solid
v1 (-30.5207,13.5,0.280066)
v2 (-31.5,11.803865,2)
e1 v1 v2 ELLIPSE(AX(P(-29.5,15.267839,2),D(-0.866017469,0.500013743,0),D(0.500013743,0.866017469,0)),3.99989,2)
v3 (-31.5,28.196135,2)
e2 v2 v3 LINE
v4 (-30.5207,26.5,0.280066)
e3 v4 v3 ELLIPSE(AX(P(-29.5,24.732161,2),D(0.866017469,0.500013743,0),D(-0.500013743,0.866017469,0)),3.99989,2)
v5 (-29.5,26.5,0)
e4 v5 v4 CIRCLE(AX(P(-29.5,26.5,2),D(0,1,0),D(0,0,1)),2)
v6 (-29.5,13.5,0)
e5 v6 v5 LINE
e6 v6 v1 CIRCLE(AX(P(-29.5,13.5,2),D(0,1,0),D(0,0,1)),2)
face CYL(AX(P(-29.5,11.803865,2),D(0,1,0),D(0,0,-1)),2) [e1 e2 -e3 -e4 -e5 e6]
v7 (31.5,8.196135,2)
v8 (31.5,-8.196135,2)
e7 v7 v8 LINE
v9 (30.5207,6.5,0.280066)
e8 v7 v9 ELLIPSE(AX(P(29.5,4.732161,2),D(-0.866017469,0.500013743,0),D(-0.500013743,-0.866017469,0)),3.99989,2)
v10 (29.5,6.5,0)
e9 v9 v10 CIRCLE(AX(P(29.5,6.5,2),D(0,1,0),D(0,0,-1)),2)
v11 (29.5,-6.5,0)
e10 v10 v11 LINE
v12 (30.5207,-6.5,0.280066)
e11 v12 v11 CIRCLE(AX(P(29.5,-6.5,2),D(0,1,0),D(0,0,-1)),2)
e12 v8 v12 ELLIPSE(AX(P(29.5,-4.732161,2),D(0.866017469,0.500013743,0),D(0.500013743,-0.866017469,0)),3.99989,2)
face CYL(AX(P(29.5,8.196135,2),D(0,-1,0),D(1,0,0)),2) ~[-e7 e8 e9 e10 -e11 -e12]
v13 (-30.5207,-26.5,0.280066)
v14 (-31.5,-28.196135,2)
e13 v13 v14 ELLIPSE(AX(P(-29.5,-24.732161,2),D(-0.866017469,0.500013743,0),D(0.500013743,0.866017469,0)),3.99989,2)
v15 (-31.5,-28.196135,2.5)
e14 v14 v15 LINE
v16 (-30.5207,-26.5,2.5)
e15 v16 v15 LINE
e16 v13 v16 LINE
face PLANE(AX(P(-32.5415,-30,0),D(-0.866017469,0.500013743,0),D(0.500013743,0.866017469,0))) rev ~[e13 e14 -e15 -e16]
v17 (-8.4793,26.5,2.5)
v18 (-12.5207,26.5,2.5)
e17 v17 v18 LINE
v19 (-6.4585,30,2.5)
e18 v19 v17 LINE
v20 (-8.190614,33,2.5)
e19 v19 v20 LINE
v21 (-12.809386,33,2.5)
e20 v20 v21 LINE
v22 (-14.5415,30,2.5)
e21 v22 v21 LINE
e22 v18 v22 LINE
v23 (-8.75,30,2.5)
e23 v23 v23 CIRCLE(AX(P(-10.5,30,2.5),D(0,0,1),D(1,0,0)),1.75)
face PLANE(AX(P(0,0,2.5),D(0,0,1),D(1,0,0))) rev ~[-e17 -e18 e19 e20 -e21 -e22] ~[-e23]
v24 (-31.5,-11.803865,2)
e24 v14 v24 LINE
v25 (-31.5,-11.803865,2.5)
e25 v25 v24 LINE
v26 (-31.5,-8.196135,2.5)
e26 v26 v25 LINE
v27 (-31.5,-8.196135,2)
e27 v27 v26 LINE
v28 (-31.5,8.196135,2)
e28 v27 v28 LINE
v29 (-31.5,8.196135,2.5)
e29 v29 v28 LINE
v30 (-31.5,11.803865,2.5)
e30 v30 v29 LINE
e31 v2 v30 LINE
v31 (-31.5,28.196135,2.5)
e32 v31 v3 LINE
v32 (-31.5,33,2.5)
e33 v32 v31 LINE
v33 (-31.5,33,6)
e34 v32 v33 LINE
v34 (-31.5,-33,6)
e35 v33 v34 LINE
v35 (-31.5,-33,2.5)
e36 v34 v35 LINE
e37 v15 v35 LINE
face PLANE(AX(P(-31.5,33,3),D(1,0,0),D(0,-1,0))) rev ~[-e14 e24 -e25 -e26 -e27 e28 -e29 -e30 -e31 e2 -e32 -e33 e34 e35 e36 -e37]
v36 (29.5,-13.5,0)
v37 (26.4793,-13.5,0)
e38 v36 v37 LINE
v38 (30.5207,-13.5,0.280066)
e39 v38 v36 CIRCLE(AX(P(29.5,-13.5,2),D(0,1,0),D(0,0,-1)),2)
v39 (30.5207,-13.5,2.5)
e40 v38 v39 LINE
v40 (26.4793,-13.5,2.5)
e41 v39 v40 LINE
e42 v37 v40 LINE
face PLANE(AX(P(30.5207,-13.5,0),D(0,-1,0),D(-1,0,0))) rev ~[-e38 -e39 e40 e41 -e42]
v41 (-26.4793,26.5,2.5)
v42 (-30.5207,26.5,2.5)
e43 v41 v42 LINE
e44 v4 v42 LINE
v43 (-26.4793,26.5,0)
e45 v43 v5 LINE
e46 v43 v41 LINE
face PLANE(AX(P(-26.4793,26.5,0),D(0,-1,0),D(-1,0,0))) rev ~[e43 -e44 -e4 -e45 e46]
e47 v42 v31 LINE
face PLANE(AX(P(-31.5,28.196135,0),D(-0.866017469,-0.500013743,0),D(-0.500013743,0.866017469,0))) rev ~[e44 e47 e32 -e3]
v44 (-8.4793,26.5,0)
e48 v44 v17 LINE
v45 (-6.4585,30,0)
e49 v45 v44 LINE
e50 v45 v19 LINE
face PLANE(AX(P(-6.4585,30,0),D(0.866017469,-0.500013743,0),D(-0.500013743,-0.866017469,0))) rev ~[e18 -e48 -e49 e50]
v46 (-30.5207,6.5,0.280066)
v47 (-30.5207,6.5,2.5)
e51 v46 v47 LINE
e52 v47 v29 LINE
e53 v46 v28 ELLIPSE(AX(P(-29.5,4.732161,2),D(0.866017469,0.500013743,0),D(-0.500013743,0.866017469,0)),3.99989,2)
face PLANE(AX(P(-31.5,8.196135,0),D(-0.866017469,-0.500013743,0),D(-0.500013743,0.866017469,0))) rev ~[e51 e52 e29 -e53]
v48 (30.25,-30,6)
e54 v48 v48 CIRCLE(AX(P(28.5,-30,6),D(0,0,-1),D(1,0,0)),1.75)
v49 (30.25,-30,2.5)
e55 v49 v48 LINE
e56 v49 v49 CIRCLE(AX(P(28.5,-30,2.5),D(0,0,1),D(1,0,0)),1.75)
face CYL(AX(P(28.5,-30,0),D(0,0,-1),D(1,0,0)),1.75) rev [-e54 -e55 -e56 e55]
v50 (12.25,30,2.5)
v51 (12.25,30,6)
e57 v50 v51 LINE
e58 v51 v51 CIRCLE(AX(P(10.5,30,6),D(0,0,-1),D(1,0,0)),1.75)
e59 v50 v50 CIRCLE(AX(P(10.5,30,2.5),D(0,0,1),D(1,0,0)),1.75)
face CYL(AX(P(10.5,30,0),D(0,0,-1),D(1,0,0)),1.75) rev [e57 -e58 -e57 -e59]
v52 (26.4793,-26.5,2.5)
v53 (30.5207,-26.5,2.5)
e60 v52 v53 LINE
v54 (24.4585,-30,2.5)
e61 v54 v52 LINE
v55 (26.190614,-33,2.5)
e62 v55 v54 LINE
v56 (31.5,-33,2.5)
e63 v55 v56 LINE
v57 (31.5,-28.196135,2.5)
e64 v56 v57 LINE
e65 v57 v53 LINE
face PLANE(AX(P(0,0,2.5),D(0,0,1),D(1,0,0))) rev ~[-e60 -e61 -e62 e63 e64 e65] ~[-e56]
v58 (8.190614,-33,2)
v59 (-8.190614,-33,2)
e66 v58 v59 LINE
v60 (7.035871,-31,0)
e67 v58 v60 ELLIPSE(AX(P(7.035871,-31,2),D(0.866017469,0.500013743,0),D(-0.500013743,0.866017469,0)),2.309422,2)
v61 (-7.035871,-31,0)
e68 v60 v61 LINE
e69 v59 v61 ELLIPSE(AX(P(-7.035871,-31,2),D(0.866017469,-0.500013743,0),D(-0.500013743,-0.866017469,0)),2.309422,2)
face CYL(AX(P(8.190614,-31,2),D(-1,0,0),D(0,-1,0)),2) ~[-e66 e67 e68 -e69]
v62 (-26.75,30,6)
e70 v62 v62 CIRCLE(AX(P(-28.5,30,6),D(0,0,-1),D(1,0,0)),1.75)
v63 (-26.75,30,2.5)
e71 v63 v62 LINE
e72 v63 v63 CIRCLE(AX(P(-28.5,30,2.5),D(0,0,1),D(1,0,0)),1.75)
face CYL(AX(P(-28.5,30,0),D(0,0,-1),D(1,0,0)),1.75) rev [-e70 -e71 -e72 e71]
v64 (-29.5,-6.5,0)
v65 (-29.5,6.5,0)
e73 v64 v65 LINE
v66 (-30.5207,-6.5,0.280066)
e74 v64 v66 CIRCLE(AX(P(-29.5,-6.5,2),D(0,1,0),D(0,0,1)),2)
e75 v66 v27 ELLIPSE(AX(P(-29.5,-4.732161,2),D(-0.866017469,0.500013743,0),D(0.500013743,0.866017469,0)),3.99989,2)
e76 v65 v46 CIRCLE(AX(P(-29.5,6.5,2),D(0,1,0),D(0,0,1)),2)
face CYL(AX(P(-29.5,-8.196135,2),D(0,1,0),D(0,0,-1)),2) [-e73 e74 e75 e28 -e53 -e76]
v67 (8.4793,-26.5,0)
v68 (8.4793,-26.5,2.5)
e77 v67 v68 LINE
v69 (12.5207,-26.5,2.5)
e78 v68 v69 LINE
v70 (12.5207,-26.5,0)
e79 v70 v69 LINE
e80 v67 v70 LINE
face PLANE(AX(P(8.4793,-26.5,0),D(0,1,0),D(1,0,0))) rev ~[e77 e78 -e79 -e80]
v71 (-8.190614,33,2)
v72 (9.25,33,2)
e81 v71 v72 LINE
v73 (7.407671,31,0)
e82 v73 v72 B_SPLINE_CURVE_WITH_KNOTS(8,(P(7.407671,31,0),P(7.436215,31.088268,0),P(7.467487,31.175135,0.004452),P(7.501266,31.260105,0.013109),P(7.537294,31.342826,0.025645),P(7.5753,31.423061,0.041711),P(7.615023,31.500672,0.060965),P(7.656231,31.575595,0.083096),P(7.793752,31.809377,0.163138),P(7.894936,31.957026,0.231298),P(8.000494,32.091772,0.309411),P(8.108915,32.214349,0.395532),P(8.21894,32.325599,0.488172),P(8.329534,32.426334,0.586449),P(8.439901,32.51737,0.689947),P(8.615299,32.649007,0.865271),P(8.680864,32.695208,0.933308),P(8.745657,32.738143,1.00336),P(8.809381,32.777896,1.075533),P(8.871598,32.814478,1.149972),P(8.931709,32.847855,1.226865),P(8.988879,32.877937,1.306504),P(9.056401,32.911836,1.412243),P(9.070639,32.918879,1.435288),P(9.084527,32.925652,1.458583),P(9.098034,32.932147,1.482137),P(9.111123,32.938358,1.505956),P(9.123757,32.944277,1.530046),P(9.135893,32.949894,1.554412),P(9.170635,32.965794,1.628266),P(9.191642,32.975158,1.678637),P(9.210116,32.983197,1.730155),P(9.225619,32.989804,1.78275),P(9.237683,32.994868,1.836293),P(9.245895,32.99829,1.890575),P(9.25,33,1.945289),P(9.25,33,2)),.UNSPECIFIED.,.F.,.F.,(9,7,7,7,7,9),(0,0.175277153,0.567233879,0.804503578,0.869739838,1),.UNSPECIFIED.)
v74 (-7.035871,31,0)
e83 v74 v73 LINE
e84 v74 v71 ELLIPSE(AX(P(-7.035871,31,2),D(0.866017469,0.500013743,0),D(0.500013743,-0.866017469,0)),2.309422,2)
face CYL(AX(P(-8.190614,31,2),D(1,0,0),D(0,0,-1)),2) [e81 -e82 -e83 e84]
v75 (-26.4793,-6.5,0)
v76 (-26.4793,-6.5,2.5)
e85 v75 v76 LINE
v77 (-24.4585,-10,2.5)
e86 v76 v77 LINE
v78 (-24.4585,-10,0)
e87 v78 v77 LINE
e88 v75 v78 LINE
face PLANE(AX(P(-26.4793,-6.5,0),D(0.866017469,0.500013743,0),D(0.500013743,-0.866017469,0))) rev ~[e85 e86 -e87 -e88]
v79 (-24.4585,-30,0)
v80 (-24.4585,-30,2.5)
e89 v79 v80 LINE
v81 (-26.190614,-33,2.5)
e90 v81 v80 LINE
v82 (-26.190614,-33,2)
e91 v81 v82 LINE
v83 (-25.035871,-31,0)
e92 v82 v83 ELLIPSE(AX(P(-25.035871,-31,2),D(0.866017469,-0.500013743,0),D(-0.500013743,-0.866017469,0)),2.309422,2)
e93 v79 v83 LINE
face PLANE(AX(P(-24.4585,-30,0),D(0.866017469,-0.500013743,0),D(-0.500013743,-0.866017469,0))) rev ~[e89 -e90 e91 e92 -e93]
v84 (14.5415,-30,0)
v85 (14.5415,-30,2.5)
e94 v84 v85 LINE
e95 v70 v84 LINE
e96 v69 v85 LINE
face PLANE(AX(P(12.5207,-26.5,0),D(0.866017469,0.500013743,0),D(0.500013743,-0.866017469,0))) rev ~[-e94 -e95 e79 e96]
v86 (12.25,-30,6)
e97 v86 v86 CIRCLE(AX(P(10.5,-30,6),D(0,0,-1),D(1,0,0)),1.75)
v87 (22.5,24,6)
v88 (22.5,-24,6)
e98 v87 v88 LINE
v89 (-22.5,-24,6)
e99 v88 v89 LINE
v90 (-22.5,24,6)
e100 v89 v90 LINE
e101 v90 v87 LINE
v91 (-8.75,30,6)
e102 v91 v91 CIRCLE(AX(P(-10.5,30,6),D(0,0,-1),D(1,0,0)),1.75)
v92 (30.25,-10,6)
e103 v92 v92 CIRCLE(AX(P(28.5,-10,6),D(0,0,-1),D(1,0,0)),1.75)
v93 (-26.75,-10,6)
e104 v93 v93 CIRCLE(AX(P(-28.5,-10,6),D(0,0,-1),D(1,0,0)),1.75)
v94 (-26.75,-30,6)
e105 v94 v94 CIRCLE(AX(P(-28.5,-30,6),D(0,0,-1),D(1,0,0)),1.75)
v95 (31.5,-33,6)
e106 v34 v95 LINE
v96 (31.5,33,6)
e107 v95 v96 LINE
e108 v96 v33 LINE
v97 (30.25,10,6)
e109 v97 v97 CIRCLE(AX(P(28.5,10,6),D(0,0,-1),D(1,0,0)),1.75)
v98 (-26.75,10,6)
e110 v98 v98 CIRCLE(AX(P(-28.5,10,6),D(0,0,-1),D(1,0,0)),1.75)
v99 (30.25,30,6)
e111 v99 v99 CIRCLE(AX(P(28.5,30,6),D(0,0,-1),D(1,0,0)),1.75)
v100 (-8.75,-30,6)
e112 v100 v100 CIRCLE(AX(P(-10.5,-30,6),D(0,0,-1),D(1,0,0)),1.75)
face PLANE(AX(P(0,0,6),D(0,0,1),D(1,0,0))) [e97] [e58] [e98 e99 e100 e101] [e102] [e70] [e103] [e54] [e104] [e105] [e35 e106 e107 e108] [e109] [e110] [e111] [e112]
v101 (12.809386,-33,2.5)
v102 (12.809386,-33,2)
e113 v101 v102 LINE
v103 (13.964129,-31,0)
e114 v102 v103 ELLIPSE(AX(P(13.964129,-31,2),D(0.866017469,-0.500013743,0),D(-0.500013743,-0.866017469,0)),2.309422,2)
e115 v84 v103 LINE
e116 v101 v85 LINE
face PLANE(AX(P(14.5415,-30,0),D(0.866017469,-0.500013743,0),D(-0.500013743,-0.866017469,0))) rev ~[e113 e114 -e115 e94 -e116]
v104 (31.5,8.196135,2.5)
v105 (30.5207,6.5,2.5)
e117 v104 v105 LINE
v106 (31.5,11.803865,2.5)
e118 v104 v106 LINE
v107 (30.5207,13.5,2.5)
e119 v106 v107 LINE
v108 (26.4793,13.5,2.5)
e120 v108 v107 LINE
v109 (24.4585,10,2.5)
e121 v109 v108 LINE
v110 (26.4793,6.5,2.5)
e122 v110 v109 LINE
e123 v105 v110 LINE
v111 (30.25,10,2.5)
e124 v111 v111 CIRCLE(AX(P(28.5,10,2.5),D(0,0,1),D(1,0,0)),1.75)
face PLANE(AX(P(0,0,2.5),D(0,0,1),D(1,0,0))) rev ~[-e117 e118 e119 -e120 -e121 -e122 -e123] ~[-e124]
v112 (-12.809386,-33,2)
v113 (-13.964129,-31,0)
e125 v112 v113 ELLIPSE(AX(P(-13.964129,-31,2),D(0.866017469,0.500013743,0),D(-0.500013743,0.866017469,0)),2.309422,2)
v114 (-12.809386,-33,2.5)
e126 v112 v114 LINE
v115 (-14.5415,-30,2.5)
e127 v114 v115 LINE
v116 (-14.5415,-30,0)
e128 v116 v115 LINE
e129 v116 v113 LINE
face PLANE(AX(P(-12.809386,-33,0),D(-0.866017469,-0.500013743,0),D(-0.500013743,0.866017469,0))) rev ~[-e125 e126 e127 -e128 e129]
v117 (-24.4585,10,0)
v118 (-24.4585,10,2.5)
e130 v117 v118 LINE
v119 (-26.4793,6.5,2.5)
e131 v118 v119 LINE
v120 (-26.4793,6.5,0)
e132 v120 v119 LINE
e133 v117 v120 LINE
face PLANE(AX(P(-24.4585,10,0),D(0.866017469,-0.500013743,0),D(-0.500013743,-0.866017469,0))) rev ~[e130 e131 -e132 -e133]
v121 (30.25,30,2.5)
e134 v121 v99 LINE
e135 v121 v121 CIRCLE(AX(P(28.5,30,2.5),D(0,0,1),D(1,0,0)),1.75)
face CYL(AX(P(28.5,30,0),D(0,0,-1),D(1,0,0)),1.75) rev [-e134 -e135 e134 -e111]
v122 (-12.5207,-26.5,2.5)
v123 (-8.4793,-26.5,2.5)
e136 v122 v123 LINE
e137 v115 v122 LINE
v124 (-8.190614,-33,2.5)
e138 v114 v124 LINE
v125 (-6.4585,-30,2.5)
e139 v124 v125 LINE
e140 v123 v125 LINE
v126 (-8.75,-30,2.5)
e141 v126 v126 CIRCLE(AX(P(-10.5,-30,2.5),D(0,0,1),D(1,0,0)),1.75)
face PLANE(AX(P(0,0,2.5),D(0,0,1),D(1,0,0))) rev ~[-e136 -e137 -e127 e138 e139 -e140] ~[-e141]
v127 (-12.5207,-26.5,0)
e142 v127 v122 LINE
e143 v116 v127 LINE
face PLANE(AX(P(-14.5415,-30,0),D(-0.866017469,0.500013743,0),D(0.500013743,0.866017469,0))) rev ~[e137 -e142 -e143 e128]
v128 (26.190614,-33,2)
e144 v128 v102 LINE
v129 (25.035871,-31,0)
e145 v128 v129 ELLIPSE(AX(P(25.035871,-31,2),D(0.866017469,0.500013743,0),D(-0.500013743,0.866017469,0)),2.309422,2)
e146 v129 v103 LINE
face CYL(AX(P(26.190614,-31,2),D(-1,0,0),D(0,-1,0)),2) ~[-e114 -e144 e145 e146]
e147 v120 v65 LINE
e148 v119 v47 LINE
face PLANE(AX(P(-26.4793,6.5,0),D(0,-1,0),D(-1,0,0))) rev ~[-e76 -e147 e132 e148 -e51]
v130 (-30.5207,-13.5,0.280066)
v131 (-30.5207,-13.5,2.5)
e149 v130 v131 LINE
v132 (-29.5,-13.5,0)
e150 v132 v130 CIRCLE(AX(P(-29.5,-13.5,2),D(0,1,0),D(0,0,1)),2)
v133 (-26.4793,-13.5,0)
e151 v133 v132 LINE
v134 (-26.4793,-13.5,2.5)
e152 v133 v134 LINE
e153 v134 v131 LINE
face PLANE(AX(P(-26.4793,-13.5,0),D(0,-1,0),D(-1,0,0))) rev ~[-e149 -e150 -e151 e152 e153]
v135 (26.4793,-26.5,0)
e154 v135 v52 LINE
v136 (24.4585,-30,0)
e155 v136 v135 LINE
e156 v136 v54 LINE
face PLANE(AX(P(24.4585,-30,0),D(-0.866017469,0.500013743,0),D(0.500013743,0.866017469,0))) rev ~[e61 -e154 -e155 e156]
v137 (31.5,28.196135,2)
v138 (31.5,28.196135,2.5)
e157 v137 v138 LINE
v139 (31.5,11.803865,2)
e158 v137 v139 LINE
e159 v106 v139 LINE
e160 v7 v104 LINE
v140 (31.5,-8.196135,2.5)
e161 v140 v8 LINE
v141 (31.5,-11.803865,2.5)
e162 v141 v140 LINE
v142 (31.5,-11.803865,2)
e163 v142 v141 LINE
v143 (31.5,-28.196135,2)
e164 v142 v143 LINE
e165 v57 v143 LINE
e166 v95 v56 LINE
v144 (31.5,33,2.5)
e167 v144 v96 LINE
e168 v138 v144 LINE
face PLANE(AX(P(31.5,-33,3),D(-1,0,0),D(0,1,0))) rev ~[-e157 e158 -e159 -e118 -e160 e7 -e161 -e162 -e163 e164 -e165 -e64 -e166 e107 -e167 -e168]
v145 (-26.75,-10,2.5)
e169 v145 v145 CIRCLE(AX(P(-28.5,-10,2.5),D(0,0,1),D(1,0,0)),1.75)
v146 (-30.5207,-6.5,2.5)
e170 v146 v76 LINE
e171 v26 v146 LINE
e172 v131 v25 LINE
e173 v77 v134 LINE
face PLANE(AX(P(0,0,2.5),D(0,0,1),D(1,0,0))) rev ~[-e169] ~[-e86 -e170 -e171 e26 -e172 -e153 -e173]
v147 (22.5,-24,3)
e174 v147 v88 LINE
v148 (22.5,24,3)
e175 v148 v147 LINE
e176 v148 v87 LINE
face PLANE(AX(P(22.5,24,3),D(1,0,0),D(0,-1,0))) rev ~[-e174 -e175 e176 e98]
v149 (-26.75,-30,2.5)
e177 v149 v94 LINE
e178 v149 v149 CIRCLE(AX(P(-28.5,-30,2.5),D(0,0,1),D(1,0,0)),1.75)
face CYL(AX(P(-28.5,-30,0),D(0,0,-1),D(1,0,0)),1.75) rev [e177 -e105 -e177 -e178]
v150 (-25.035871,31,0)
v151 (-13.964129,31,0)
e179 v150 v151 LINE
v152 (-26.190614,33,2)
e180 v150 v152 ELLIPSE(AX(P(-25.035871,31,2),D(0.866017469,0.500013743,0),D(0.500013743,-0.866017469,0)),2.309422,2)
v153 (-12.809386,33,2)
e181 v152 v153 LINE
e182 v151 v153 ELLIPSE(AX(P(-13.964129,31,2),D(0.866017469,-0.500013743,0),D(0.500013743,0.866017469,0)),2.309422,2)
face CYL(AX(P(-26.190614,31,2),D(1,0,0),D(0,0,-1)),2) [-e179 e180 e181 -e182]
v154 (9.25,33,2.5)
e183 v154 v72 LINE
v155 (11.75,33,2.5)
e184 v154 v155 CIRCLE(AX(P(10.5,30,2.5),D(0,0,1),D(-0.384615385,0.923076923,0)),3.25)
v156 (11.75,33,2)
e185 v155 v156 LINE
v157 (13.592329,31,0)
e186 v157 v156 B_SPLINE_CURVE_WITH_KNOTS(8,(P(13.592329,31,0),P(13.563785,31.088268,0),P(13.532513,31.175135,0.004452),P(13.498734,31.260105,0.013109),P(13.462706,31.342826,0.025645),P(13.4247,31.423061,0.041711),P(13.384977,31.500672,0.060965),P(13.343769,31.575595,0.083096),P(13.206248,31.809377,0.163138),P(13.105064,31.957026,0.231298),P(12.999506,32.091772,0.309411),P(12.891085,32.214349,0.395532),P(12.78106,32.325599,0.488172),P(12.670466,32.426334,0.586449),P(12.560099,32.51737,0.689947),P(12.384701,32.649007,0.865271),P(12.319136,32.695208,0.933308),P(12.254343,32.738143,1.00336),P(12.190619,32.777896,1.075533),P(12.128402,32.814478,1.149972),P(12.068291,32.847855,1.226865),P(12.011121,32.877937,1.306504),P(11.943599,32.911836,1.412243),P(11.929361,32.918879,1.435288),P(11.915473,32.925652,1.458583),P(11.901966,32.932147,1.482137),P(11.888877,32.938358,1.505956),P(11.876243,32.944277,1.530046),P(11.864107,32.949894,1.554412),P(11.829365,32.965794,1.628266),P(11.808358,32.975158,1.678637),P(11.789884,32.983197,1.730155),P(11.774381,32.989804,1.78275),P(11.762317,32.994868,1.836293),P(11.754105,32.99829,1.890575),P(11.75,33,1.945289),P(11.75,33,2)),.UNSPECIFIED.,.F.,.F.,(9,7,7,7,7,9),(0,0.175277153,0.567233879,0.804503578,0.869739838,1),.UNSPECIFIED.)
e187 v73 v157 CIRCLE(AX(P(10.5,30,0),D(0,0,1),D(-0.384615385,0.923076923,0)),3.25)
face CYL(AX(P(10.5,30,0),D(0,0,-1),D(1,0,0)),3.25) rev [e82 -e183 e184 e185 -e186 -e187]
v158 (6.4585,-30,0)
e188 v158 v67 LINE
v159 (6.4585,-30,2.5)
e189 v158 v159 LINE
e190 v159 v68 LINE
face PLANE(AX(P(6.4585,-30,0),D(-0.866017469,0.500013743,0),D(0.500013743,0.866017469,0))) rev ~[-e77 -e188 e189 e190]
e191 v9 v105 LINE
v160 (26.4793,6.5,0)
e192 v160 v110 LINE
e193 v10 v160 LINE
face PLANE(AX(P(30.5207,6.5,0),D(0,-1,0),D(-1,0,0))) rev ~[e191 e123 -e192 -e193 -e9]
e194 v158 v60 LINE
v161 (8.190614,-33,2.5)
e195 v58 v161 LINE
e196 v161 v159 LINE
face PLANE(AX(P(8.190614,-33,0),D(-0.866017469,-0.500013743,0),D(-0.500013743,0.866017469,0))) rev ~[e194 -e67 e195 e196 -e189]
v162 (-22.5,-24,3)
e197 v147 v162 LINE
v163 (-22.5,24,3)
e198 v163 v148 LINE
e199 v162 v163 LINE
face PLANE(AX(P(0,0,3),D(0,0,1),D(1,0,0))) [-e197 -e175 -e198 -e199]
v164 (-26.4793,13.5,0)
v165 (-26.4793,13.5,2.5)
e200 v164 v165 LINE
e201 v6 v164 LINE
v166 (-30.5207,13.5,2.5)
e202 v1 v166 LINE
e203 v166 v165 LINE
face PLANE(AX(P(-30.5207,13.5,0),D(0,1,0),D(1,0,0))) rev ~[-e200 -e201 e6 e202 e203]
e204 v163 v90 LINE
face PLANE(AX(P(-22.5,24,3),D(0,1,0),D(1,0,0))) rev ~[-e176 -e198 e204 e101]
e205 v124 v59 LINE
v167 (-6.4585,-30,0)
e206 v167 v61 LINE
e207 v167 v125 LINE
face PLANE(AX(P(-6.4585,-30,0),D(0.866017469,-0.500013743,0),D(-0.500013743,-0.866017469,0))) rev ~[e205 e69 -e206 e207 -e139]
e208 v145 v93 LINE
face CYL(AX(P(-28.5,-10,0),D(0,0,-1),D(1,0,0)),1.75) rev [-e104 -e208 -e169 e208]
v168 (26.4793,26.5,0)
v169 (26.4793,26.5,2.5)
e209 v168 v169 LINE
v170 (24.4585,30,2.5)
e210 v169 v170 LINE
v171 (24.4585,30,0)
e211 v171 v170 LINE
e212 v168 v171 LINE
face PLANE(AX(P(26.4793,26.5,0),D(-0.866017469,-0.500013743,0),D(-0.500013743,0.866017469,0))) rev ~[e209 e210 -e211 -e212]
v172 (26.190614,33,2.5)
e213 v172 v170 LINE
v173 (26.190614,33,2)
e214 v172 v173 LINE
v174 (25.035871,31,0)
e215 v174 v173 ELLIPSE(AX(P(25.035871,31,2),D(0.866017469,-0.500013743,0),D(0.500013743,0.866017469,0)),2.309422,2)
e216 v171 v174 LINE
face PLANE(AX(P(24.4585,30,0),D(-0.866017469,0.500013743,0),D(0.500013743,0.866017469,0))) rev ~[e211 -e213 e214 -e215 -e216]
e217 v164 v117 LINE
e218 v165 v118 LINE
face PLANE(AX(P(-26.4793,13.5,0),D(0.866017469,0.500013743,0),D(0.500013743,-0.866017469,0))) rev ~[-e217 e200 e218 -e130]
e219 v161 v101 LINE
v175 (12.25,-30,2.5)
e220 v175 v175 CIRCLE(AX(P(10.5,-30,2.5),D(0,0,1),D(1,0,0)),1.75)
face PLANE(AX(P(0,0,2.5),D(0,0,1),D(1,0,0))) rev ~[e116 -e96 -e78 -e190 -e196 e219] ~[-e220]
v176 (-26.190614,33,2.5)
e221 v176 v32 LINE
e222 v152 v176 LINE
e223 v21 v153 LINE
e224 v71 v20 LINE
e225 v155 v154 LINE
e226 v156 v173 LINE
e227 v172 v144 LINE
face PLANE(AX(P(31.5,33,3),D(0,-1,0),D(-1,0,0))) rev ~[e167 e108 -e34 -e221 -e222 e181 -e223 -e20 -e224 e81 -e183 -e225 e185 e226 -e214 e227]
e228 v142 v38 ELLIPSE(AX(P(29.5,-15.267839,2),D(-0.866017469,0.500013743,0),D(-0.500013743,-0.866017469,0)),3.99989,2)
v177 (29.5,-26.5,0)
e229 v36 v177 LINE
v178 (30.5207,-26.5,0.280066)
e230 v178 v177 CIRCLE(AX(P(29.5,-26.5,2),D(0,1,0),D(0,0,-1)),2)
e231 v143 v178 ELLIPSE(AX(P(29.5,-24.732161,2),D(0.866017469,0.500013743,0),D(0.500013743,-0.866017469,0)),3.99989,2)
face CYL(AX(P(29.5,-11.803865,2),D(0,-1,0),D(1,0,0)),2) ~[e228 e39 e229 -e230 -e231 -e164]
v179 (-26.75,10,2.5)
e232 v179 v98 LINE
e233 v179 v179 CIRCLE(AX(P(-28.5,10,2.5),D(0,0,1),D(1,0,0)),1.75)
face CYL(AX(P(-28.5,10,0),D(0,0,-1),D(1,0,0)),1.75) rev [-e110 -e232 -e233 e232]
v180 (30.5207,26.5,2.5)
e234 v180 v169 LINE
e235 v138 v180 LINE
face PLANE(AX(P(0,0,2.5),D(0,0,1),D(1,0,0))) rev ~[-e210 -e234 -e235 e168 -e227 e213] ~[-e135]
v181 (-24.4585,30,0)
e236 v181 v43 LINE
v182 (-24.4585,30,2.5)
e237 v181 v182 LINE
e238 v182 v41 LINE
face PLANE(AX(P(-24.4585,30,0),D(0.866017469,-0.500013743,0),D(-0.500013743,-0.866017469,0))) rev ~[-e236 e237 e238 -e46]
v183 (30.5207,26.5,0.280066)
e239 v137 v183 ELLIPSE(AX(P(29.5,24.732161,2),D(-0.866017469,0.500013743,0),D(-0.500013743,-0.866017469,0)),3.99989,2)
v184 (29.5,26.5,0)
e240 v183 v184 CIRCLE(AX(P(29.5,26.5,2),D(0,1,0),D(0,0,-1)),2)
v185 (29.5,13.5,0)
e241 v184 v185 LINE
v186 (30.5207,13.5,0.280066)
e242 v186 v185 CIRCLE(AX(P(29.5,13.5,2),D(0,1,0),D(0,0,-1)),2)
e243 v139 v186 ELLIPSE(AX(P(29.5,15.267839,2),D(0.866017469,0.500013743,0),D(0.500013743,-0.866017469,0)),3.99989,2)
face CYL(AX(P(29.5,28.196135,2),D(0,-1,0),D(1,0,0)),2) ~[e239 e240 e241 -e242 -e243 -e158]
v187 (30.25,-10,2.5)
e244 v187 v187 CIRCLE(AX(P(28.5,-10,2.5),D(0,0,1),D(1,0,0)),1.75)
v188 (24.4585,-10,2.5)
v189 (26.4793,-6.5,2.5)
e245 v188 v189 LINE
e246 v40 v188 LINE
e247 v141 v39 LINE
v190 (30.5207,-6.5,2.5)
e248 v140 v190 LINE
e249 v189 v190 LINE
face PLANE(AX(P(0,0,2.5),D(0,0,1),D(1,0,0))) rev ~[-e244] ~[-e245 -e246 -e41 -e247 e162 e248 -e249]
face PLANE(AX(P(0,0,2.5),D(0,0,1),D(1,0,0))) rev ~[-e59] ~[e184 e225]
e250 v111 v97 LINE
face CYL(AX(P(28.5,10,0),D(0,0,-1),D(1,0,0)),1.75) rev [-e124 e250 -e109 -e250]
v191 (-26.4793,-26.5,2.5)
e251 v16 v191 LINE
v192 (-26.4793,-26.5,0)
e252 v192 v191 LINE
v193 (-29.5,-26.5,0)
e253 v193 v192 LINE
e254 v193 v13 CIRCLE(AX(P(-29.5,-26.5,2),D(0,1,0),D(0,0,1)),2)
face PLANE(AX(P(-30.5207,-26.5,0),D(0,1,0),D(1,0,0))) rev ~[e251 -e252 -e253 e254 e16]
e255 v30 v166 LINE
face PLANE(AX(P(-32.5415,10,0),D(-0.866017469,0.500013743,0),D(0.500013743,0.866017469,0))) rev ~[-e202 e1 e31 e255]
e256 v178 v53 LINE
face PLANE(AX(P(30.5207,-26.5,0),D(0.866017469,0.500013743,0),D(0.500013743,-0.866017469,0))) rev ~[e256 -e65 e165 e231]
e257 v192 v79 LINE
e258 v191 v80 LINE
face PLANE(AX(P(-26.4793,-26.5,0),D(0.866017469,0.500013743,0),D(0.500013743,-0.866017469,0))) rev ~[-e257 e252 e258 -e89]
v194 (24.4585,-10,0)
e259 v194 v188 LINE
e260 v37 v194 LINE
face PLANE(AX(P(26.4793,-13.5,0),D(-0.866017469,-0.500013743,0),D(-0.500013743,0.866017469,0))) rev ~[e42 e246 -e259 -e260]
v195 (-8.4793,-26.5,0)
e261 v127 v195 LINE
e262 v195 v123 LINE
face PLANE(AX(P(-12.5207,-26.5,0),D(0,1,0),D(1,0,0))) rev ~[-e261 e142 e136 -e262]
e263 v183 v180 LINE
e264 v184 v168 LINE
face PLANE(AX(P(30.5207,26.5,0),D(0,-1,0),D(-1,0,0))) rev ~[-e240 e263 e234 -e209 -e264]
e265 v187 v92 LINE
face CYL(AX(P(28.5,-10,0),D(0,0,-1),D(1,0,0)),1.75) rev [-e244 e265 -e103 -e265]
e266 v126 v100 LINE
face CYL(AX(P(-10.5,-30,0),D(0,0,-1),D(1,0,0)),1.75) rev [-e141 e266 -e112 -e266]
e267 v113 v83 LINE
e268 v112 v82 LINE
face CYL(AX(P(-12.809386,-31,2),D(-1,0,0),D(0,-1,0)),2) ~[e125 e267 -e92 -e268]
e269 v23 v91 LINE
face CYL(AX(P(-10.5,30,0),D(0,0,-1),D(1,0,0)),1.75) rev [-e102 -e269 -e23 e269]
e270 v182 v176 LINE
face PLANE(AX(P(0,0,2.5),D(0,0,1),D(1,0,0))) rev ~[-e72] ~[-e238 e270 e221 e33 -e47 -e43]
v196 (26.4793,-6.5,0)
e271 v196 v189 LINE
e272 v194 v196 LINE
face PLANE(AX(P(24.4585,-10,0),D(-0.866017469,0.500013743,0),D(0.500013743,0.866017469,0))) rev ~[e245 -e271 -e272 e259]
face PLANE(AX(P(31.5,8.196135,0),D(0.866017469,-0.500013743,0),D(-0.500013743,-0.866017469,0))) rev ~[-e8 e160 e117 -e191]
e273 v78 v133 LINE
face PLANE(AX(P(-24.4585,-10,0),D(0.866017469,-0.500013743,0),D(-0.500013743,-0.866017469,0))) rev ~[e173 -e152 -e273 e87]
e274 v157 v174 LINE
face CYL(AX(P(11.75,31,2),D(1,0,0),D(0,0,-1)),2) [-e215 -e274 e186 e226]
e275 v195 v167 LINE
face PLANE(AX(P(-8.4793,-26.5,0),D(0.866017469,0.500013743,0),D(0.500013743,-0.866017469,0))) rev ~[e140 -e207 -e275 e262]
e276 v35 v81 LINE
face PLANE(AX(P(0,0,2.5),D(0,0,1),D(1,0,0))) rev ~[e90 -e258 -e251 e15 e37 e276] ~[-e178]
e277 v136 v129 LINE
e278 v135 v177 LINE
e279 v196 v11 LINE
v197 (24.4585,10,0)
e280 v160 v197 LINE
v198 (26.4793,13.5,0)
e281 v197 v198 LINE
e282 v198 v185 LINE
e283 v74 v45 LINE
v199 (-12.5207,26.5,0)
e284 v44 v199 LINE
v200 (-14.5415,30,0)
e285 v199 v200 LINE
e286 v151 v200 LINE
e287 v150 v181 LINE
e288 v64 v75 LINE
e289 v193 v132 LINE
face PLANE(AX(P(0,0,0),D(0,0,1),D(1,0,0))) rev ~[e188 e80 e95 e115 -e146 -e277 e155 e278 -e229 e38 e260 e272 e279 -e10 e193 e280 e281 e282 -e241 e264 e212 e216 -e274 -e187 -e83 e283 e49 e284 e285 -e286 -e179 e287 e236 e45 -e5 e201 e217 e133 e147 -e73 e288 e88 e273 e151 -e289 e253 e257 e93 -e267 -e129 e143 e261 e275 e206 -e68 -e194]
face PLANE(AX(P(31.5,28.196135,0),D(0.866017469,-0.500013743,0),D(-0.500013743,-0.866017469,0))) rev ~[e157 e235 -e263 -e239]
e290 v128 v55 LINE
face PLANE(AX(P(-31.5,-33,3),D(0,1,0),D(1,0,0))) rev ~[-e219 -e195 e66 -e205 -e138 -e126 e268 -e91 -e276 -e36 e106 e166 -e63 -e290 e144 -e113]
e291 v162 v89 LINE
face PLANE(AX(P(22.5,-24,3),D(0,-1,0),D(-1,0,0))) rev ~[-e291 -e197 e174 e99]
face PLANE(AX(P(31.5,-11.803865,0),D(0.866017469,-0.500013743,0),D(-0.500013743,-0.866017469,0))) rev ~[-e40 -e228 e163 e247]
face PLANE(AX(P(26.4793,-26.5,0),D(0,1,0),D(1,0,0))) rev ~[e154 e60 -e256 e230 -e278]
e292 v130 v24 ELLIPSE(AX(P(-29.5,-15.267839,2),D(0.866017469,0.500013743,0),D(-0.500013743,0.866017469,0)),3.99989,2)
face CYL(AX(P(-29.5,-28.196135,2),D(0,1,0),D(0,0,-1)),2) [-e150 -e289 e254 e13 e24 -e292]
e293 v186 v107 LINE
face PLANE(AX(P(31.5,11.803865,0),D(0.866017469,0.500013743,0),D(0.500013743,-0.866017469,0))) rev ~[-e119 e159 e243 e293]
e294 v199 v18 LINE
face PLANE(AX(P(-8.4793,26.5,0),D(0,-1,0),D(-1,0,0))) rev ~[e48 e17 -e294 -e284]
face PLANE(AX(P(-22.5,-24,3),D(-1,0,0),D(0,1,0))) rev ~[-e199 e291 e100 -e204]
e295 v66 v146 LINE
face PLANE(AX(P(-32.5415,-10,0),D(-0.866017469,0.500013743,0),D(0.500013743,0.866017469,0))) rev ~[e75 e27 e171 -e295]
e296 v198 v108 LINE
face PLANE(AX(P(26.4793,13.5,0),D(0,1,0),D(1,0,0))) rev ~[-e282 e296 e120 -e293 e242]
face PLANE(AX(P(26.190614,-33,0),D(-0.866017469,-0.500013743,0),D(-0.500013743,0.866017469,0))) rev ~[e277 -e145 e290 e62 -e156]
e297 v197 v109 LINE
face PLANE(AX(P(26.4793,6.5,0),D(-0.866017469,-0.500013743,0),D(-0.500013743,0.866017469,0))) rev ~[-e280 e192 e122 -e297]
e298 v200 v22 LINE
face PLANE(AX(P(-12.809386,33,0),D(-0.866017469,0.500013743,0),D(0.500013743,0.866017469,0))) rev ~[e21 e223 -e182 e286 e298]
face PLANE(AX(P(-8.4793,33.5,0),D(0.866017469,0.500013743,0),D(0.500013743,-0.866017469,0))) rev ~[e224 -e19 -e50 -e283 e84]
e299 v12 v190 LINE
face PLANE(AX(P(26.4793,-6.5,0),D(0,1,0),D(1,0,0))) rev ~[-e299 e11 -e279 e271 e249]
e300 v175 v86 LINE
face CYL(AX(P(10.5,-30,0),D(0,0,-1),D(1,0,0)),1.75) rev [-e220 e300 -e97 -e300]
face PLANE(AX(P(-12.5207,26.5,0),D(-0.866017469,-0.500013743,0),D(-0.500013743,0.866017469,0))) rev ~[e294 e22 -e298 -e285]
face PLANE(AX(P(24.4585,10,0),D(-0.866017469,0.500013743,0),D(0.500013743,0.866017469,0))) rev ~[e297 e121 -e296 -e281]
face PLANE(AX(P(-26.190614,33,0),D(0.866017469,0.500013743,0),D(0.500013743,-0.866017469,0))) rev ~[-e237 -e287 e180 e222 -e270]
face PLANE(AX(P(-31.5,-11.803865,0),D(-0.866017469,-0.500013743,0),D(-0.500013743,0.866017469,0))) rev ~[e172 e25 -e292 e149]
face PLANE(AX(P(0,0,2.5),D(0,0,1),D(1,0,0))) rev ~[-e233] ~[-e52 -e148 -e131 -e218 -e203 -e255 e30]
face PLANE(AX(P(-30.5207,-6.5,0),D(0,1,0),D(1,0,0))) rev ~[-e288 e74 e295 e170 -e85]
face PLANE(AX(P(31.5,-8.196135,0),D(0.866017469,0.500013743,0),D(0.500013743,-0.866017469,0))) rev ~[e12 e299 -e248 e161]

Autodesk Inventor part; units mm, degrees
ref_plane "YZ Plane" through (0, 0, 0) normal (1, 0, 0) x (0, 1, 0)
ref_plane "XZ Plane" through (0, 0, 0) normal (0, 1, 0) x (-1, 0, 0)
ref_plane "XY Plane" through (0, 0, 0) normal (0, 0, 1) x (1, 0, 0)
sketch "back_wall&m3_bolts" plane through (0, 0, 0) normal (0, 0, 1) x (1, 0, 0)
  circle A0 centre (-28.5, -10) radius 1.75
  line L0 (-36.4635, 0) -> (65.4635, 0) construction
  circle A1 centre (-28.5, -30) radius 1.75
  circle A2 centre (-10.5, -30) radius 1.75
  circle A3 centre (10.5, -30) radius 1.75
  circle A4 centre (28.5, -30) radius 1.75
  circle A5 centre (28.5, -10) radius 1.75
  circle A6 centre (28.5, 10) radius 1.75
  circle A7 centre (28.5, 30) radius 1.75
  circle A8 centre (10.5, 30) radius 1.75
  circle A9 centre (-10.5, 30) radius 1.75
  circle A10 centre (-28.5, 30) radius 1.75
  circle A11 centre (-28.5, 10) radius 1.75
  line L1 (0, 39.7442) -> (0, -45.329) construction
  line L2 (-31.5, -33) -> (31.5, -33)
  line L3 (31.5, -33) -> (31.5, 33)
  line L4 (31.5, 33) -> (-31.5, 33)
  line L5 (-31.5, 33) -> (-31.5, -33)
  line L6 (-26.4793, 26.5) -> (-30.5207, 26.5)
  line L7 (-30.5207, 26.5) -> (-32.5415, 30)
  line L8 (-32.5415, 30) -> (-30.5207, 33.5)
  line L9 (-30.5207, 33.5) -> (-26.4793, 33.5)
  line L10 (-26.4793, 33.5) -> (-24.4585, 30)
  line L11 (-24.4585, 30) -> (-26.4793, 26.5)
  line L12 (-8.4793, 26.5) -> (-12.5207, 26.5)
  line L13 (-12.5207, 26.5) -> (-14.5415, 30)
  line L14 (-14.5415, 30) -> (-12.5207, 33.5)
  line L15 (-12.5207, 33.5) -> (-8.4793, 33.5)
  line L16 (-8.4793, 33.5) -> (-6.4585, 30)
  line L17 (-6.4585, 30) -> (-8.4793, 26.5)
  line L18 (32.5415, 30) -> (30.5207, 26.5)
  line L19 (30.5207, 26.5) -> (26.4793, 26.5)
  line L20 (26.4793, 26.5) -> (24.4585, 30)
  line L21 (24.4585, 30) -> (26.4793, 33.5)
  line L22 (26.4793, 33.5) -> (30.5207, 33.5)
  line L23 (30.5207, 33.5) -> (32.5415, 30)
  line L24 (26.4793, 6.5) -> (24.4585, 10)
  line L25 (24.4585, 10) -> (26.4793, 13.5)
  line L26 (26.4793, 13.5) -> (30.5207, 13.5)
  line L27 (30.5207, 13.5) -> (32.5415, 10)
  line L28 (32.5415, 10) -> (30.5207, 6.5)
  line L29 (30.5207, 6.5) -> (26.4793, 6.5)
  line L30 (26.4793, -13.5) -> (24.4585, -10)
  line L31 (24.4585, -10) -> (26.4793, -6.5)
  line L32 (26.4793, -6.5) -> (30.5207, -6.5)
  line L33 (30.5207, -6.5) -> (32.5415, -10)
  line L34 (32.5415, -10) -> (30.5207, -13.5)
  line L35 (30.5207, -13.5) -> (26.4793, -13.5)
  line L36 (26.4793, -33.5) -> (24.4585, -30)
  line L37 (24.4585, -30) -> (26.4793, -26.5)
  line L38 (26.4793, -26.5) -> (30.5207, -26.5)
  line L39 (30.5207, -26.5) -> (32.5415, -30)
  line L40 (32.5415, -30) -> (30.5207, -33.5)
  line L41 (30.5207, -33.5) -> (26.4793, -33.5)
  line L42 (8.4793, -26.5) -> (12.5207, -26.5)
  line L43 (12.5207, -26.5) -> (14.5415, -30)
  line L44 (14.5415, -30) -> (12.5207, -33.5)
  line L45 (12.5207, -33.5) -> (8.4793, -33.5)
  line L46 (8.4793, -33.5) -> (6.4585, -30)
  line L47 (6.4585, -30) -> (8.4793, -26.5)
  line L48 (-8.4793, -26.5) -> (-6.4585, -30)
  line L49 (-6.4585, -30) -> (-8.4793, -33.5)
  line L50 (-8.4793, -33.5) -> (-12.5207, -33.5)
  line L51 (-12.5207, -33.5) -> (-14.5415, -30)
  line L52 (-14.5415, -30) -> (-12.5207, -26.5)
  line L53 (-12.5207, -26.5) -> (-8.4793, -26.5)
  line L54 (-26.4793, -26.5) -> (-24.4585, -30)
  line L55 (-24.4585, -30) -> (-26.4793, -33.5)
  line L56 (-26.4793, -33.5) -> (-30.5207, -33.5)
  line L57 (-30.5207, -33.5) -> (-32.5415, -30)
  line L58 (-32.5415, -30) -> (-30.5207, -26.5)
  line L59 (-30.5207, -26.5) -> (-26.4793, -26.5)
  line L60 (-26.4793, -13.5) -> (-30.5207, -13.5)
  line L61 (-30.5207, -13.5) -> (-32.5415, -10)
  line L62 (-32.5415, -10) -> (-30.5207, -6.5)
  line L63 (-30.5207, -6.5) -> (-26.4793, -6.5)
  line L64 (-26.4793, -6.5) -> (-24.4585, -10)
  line L65 (-24.4585, -10) -> (-26.4793, -13.5)
  line L66 (-26.4793, 6.5) -> (-30.5207, 6.5)
  line L67 (-30.5207, 6.5) -> (-32.5415, 10)
  line L68 (-32.5415, 10) -> (-30.5207, 13.5)
  line L69 (-30.5207, 13.5) -> (-26.4793, 13.5)
  line L70 (-26.4793, 13.5) -> (-24.4585, 10)
  line L71 (-24.4585, 10) -> (-26.4793, 6.5)
  line L72 (30.8094, 33) -> (31.5, 33)
  line L73 (31.5, 33) -> (31.5, 31.8038)
  line L74 (31.5, -31.8038) -> (31.5, -33)
  line L75 (31.5, -33) -> (30.8094, -33)
  line L76 (-31.5, -31.8038) -> (-31.5, -33)
  line L77 (-31.5, -33) -> (-30.8094, -33)
  line L78 (-30.8094, 33) -> (-31.5, 33)
  line L79 (-31.5, 31.8038) -> (-31.5, 33)
  circle A12 centre (10.5, 30) radius 3.25
  point P0 (0, 0)
  point P1 (14.5, 0)
  point P2 (0, 0)
  point P3 (0, 33)
  point P4 (31.5, 0)
  dimension "d0" = 3.5
  dimension "d1" = 10
  dimension "d3" = 20
  dimension "d5" = 63
  dimension "d6" = 66
  dimension "d11" = 3.5
  dimension "d12" = 10.5
  dimension "d16" = 3
  dimension "d17" = 3
  dimension "d18" = 18
  dimension "d19" = 20
  dimension "d26" = 6.5
extrude "wall" add sketch "back_wall&m3_bolts" along normal blind 3 contours A0 | A1 | A2 | A3 | A4 | A5 | A6 | A7 | A8 | A9 | A10 | A11 | L5 L57 L2 | L57 L5 L58 L59 L54 L55 L2 | L55 L54 L59 L58 L5 L61 L60 L65 L64 L63 L62 L67 L66 L71 L70 L69 L68 L7 L6 L11 L10 L4 L14 L13 L12 L17 L16 A12 L21 L20 L19 L18 L3 L27 L26 L25 L24 L29 L28 L33 L32 L31 L30 L35 L34 L39 L38 L37 L36 L2 L44 L43 L42 L47 L46 L49 L48 L53 L52 L51 | L51 L52 L53 L48 L49 L2 | L5 L62 L63 L64 L65 L60 L61 | L46 L47 L42 L43 L44 L2 | L5 L68 L69 L70 L71 L66 L67 | L36 L37 L38 L39 L3 L40 L2 | L5 L8 L4 L10 L11 L6 L7 | L40 L3 L2 | L5 L4 L8 | L34 L35 L30 L31 L32 L33 L3 | L4 L16 L17 L12 L13 L14 | L28 L29 L24 L25 L26 L27 L3 | L4 A12 | L18 L19 L20 L21 L4 L23 L3 | L23 L4 L3 picked at (10.4297, 32.5791)
sketch "lipSketch" plane through (0, 0, 3) normal (0, 0, 1) x (1, 0, 0)
  line L0 (31.5, 33) -> (-31.5, 33) projected
  line L1 (-31.5, 33) -> (-31.5, -33) projected
  line L2 (-31.5, -33) -> (31.5, -33) projected
  line L3 (31.5, -33) -> (31.5, 33) projected
  line L4 (-22.5, 24) -> (22.5, 24)
  line L5 (22.5, 24) -> (22.5, -24)
  line L6 (22.5, -24) -> (-22.5, -24)
  line L7 (-22.5, -24) -> (-22.5, 24)
  point P0 (0, 0)
  dimension "d22" = 9
extrude "lip" add sketch "lipSketch" along normal blind 3
extrude "m3_bolt_holes" cut sketch "back_wall&m3_bolts" along normal through all contours A0 | A1 | A2 | A3 | A4 | A5 | A6 | A7 | A8 | A9 | A10 | A11
extrude "m3_nut_slots" cut sketch "back_wall&m3_bolts" along normal blind 2.5 contours L5 L57 L2 | L57 L5 L58 L59 L54 L55 L2 | L2 L55 L56 L57 | L57 L58 L5 | L51 L52 L53 L48 L49 L2 | L2 L49 L50 L51 | L61 L62 L5 | L5 L62 L63 L64 L65 L60 L61 | L46 L47 L42 L43 L44 L2 | L2 L44 L45 L46 | L67 L68 L5 | L5 L68 L69 L70 L71 L66 L67 | L36 L37 L38 L39 L3 L40 L2 | L2 L40 L41 L36 | L7 L8 L5 | L5 L8 L4 L10 L11 L6 L7 | L40 L3 L2 | L5 L4 L8 | L3 L39 L40 | L8 L9 L10 L4 | L34 L35 L30 L31 L32 L33 L3 | L3 L33 L34 | L14 L15 L16 L4 | L4 L16 L17 L12 L13 L14 | L28 L29 L24 L25 L26 L27 L3 | L3 L27 L28 | A12 L4 | L4 A12 | L18 L19 L20 L21 L4 L23 L3 | L3 L23 L18 | L21 L22 L23 L4 | L23 L4 L3
fillet "Fillet1" radius 2 12 edges at (31.5, -20, 0) (19.5, -33, 0) (0, -33, 0) (-19.5, -33, 0) (-31.5, -20, 0) (-31.5, 0, 0) (-31.5, 20, 0) (-19.5, 33, 0) (18.9703, 33, 0) (0.5297, 33, 0) (31.5, 20, 0) (31.5, 0, 0)
properties part number "lid"
